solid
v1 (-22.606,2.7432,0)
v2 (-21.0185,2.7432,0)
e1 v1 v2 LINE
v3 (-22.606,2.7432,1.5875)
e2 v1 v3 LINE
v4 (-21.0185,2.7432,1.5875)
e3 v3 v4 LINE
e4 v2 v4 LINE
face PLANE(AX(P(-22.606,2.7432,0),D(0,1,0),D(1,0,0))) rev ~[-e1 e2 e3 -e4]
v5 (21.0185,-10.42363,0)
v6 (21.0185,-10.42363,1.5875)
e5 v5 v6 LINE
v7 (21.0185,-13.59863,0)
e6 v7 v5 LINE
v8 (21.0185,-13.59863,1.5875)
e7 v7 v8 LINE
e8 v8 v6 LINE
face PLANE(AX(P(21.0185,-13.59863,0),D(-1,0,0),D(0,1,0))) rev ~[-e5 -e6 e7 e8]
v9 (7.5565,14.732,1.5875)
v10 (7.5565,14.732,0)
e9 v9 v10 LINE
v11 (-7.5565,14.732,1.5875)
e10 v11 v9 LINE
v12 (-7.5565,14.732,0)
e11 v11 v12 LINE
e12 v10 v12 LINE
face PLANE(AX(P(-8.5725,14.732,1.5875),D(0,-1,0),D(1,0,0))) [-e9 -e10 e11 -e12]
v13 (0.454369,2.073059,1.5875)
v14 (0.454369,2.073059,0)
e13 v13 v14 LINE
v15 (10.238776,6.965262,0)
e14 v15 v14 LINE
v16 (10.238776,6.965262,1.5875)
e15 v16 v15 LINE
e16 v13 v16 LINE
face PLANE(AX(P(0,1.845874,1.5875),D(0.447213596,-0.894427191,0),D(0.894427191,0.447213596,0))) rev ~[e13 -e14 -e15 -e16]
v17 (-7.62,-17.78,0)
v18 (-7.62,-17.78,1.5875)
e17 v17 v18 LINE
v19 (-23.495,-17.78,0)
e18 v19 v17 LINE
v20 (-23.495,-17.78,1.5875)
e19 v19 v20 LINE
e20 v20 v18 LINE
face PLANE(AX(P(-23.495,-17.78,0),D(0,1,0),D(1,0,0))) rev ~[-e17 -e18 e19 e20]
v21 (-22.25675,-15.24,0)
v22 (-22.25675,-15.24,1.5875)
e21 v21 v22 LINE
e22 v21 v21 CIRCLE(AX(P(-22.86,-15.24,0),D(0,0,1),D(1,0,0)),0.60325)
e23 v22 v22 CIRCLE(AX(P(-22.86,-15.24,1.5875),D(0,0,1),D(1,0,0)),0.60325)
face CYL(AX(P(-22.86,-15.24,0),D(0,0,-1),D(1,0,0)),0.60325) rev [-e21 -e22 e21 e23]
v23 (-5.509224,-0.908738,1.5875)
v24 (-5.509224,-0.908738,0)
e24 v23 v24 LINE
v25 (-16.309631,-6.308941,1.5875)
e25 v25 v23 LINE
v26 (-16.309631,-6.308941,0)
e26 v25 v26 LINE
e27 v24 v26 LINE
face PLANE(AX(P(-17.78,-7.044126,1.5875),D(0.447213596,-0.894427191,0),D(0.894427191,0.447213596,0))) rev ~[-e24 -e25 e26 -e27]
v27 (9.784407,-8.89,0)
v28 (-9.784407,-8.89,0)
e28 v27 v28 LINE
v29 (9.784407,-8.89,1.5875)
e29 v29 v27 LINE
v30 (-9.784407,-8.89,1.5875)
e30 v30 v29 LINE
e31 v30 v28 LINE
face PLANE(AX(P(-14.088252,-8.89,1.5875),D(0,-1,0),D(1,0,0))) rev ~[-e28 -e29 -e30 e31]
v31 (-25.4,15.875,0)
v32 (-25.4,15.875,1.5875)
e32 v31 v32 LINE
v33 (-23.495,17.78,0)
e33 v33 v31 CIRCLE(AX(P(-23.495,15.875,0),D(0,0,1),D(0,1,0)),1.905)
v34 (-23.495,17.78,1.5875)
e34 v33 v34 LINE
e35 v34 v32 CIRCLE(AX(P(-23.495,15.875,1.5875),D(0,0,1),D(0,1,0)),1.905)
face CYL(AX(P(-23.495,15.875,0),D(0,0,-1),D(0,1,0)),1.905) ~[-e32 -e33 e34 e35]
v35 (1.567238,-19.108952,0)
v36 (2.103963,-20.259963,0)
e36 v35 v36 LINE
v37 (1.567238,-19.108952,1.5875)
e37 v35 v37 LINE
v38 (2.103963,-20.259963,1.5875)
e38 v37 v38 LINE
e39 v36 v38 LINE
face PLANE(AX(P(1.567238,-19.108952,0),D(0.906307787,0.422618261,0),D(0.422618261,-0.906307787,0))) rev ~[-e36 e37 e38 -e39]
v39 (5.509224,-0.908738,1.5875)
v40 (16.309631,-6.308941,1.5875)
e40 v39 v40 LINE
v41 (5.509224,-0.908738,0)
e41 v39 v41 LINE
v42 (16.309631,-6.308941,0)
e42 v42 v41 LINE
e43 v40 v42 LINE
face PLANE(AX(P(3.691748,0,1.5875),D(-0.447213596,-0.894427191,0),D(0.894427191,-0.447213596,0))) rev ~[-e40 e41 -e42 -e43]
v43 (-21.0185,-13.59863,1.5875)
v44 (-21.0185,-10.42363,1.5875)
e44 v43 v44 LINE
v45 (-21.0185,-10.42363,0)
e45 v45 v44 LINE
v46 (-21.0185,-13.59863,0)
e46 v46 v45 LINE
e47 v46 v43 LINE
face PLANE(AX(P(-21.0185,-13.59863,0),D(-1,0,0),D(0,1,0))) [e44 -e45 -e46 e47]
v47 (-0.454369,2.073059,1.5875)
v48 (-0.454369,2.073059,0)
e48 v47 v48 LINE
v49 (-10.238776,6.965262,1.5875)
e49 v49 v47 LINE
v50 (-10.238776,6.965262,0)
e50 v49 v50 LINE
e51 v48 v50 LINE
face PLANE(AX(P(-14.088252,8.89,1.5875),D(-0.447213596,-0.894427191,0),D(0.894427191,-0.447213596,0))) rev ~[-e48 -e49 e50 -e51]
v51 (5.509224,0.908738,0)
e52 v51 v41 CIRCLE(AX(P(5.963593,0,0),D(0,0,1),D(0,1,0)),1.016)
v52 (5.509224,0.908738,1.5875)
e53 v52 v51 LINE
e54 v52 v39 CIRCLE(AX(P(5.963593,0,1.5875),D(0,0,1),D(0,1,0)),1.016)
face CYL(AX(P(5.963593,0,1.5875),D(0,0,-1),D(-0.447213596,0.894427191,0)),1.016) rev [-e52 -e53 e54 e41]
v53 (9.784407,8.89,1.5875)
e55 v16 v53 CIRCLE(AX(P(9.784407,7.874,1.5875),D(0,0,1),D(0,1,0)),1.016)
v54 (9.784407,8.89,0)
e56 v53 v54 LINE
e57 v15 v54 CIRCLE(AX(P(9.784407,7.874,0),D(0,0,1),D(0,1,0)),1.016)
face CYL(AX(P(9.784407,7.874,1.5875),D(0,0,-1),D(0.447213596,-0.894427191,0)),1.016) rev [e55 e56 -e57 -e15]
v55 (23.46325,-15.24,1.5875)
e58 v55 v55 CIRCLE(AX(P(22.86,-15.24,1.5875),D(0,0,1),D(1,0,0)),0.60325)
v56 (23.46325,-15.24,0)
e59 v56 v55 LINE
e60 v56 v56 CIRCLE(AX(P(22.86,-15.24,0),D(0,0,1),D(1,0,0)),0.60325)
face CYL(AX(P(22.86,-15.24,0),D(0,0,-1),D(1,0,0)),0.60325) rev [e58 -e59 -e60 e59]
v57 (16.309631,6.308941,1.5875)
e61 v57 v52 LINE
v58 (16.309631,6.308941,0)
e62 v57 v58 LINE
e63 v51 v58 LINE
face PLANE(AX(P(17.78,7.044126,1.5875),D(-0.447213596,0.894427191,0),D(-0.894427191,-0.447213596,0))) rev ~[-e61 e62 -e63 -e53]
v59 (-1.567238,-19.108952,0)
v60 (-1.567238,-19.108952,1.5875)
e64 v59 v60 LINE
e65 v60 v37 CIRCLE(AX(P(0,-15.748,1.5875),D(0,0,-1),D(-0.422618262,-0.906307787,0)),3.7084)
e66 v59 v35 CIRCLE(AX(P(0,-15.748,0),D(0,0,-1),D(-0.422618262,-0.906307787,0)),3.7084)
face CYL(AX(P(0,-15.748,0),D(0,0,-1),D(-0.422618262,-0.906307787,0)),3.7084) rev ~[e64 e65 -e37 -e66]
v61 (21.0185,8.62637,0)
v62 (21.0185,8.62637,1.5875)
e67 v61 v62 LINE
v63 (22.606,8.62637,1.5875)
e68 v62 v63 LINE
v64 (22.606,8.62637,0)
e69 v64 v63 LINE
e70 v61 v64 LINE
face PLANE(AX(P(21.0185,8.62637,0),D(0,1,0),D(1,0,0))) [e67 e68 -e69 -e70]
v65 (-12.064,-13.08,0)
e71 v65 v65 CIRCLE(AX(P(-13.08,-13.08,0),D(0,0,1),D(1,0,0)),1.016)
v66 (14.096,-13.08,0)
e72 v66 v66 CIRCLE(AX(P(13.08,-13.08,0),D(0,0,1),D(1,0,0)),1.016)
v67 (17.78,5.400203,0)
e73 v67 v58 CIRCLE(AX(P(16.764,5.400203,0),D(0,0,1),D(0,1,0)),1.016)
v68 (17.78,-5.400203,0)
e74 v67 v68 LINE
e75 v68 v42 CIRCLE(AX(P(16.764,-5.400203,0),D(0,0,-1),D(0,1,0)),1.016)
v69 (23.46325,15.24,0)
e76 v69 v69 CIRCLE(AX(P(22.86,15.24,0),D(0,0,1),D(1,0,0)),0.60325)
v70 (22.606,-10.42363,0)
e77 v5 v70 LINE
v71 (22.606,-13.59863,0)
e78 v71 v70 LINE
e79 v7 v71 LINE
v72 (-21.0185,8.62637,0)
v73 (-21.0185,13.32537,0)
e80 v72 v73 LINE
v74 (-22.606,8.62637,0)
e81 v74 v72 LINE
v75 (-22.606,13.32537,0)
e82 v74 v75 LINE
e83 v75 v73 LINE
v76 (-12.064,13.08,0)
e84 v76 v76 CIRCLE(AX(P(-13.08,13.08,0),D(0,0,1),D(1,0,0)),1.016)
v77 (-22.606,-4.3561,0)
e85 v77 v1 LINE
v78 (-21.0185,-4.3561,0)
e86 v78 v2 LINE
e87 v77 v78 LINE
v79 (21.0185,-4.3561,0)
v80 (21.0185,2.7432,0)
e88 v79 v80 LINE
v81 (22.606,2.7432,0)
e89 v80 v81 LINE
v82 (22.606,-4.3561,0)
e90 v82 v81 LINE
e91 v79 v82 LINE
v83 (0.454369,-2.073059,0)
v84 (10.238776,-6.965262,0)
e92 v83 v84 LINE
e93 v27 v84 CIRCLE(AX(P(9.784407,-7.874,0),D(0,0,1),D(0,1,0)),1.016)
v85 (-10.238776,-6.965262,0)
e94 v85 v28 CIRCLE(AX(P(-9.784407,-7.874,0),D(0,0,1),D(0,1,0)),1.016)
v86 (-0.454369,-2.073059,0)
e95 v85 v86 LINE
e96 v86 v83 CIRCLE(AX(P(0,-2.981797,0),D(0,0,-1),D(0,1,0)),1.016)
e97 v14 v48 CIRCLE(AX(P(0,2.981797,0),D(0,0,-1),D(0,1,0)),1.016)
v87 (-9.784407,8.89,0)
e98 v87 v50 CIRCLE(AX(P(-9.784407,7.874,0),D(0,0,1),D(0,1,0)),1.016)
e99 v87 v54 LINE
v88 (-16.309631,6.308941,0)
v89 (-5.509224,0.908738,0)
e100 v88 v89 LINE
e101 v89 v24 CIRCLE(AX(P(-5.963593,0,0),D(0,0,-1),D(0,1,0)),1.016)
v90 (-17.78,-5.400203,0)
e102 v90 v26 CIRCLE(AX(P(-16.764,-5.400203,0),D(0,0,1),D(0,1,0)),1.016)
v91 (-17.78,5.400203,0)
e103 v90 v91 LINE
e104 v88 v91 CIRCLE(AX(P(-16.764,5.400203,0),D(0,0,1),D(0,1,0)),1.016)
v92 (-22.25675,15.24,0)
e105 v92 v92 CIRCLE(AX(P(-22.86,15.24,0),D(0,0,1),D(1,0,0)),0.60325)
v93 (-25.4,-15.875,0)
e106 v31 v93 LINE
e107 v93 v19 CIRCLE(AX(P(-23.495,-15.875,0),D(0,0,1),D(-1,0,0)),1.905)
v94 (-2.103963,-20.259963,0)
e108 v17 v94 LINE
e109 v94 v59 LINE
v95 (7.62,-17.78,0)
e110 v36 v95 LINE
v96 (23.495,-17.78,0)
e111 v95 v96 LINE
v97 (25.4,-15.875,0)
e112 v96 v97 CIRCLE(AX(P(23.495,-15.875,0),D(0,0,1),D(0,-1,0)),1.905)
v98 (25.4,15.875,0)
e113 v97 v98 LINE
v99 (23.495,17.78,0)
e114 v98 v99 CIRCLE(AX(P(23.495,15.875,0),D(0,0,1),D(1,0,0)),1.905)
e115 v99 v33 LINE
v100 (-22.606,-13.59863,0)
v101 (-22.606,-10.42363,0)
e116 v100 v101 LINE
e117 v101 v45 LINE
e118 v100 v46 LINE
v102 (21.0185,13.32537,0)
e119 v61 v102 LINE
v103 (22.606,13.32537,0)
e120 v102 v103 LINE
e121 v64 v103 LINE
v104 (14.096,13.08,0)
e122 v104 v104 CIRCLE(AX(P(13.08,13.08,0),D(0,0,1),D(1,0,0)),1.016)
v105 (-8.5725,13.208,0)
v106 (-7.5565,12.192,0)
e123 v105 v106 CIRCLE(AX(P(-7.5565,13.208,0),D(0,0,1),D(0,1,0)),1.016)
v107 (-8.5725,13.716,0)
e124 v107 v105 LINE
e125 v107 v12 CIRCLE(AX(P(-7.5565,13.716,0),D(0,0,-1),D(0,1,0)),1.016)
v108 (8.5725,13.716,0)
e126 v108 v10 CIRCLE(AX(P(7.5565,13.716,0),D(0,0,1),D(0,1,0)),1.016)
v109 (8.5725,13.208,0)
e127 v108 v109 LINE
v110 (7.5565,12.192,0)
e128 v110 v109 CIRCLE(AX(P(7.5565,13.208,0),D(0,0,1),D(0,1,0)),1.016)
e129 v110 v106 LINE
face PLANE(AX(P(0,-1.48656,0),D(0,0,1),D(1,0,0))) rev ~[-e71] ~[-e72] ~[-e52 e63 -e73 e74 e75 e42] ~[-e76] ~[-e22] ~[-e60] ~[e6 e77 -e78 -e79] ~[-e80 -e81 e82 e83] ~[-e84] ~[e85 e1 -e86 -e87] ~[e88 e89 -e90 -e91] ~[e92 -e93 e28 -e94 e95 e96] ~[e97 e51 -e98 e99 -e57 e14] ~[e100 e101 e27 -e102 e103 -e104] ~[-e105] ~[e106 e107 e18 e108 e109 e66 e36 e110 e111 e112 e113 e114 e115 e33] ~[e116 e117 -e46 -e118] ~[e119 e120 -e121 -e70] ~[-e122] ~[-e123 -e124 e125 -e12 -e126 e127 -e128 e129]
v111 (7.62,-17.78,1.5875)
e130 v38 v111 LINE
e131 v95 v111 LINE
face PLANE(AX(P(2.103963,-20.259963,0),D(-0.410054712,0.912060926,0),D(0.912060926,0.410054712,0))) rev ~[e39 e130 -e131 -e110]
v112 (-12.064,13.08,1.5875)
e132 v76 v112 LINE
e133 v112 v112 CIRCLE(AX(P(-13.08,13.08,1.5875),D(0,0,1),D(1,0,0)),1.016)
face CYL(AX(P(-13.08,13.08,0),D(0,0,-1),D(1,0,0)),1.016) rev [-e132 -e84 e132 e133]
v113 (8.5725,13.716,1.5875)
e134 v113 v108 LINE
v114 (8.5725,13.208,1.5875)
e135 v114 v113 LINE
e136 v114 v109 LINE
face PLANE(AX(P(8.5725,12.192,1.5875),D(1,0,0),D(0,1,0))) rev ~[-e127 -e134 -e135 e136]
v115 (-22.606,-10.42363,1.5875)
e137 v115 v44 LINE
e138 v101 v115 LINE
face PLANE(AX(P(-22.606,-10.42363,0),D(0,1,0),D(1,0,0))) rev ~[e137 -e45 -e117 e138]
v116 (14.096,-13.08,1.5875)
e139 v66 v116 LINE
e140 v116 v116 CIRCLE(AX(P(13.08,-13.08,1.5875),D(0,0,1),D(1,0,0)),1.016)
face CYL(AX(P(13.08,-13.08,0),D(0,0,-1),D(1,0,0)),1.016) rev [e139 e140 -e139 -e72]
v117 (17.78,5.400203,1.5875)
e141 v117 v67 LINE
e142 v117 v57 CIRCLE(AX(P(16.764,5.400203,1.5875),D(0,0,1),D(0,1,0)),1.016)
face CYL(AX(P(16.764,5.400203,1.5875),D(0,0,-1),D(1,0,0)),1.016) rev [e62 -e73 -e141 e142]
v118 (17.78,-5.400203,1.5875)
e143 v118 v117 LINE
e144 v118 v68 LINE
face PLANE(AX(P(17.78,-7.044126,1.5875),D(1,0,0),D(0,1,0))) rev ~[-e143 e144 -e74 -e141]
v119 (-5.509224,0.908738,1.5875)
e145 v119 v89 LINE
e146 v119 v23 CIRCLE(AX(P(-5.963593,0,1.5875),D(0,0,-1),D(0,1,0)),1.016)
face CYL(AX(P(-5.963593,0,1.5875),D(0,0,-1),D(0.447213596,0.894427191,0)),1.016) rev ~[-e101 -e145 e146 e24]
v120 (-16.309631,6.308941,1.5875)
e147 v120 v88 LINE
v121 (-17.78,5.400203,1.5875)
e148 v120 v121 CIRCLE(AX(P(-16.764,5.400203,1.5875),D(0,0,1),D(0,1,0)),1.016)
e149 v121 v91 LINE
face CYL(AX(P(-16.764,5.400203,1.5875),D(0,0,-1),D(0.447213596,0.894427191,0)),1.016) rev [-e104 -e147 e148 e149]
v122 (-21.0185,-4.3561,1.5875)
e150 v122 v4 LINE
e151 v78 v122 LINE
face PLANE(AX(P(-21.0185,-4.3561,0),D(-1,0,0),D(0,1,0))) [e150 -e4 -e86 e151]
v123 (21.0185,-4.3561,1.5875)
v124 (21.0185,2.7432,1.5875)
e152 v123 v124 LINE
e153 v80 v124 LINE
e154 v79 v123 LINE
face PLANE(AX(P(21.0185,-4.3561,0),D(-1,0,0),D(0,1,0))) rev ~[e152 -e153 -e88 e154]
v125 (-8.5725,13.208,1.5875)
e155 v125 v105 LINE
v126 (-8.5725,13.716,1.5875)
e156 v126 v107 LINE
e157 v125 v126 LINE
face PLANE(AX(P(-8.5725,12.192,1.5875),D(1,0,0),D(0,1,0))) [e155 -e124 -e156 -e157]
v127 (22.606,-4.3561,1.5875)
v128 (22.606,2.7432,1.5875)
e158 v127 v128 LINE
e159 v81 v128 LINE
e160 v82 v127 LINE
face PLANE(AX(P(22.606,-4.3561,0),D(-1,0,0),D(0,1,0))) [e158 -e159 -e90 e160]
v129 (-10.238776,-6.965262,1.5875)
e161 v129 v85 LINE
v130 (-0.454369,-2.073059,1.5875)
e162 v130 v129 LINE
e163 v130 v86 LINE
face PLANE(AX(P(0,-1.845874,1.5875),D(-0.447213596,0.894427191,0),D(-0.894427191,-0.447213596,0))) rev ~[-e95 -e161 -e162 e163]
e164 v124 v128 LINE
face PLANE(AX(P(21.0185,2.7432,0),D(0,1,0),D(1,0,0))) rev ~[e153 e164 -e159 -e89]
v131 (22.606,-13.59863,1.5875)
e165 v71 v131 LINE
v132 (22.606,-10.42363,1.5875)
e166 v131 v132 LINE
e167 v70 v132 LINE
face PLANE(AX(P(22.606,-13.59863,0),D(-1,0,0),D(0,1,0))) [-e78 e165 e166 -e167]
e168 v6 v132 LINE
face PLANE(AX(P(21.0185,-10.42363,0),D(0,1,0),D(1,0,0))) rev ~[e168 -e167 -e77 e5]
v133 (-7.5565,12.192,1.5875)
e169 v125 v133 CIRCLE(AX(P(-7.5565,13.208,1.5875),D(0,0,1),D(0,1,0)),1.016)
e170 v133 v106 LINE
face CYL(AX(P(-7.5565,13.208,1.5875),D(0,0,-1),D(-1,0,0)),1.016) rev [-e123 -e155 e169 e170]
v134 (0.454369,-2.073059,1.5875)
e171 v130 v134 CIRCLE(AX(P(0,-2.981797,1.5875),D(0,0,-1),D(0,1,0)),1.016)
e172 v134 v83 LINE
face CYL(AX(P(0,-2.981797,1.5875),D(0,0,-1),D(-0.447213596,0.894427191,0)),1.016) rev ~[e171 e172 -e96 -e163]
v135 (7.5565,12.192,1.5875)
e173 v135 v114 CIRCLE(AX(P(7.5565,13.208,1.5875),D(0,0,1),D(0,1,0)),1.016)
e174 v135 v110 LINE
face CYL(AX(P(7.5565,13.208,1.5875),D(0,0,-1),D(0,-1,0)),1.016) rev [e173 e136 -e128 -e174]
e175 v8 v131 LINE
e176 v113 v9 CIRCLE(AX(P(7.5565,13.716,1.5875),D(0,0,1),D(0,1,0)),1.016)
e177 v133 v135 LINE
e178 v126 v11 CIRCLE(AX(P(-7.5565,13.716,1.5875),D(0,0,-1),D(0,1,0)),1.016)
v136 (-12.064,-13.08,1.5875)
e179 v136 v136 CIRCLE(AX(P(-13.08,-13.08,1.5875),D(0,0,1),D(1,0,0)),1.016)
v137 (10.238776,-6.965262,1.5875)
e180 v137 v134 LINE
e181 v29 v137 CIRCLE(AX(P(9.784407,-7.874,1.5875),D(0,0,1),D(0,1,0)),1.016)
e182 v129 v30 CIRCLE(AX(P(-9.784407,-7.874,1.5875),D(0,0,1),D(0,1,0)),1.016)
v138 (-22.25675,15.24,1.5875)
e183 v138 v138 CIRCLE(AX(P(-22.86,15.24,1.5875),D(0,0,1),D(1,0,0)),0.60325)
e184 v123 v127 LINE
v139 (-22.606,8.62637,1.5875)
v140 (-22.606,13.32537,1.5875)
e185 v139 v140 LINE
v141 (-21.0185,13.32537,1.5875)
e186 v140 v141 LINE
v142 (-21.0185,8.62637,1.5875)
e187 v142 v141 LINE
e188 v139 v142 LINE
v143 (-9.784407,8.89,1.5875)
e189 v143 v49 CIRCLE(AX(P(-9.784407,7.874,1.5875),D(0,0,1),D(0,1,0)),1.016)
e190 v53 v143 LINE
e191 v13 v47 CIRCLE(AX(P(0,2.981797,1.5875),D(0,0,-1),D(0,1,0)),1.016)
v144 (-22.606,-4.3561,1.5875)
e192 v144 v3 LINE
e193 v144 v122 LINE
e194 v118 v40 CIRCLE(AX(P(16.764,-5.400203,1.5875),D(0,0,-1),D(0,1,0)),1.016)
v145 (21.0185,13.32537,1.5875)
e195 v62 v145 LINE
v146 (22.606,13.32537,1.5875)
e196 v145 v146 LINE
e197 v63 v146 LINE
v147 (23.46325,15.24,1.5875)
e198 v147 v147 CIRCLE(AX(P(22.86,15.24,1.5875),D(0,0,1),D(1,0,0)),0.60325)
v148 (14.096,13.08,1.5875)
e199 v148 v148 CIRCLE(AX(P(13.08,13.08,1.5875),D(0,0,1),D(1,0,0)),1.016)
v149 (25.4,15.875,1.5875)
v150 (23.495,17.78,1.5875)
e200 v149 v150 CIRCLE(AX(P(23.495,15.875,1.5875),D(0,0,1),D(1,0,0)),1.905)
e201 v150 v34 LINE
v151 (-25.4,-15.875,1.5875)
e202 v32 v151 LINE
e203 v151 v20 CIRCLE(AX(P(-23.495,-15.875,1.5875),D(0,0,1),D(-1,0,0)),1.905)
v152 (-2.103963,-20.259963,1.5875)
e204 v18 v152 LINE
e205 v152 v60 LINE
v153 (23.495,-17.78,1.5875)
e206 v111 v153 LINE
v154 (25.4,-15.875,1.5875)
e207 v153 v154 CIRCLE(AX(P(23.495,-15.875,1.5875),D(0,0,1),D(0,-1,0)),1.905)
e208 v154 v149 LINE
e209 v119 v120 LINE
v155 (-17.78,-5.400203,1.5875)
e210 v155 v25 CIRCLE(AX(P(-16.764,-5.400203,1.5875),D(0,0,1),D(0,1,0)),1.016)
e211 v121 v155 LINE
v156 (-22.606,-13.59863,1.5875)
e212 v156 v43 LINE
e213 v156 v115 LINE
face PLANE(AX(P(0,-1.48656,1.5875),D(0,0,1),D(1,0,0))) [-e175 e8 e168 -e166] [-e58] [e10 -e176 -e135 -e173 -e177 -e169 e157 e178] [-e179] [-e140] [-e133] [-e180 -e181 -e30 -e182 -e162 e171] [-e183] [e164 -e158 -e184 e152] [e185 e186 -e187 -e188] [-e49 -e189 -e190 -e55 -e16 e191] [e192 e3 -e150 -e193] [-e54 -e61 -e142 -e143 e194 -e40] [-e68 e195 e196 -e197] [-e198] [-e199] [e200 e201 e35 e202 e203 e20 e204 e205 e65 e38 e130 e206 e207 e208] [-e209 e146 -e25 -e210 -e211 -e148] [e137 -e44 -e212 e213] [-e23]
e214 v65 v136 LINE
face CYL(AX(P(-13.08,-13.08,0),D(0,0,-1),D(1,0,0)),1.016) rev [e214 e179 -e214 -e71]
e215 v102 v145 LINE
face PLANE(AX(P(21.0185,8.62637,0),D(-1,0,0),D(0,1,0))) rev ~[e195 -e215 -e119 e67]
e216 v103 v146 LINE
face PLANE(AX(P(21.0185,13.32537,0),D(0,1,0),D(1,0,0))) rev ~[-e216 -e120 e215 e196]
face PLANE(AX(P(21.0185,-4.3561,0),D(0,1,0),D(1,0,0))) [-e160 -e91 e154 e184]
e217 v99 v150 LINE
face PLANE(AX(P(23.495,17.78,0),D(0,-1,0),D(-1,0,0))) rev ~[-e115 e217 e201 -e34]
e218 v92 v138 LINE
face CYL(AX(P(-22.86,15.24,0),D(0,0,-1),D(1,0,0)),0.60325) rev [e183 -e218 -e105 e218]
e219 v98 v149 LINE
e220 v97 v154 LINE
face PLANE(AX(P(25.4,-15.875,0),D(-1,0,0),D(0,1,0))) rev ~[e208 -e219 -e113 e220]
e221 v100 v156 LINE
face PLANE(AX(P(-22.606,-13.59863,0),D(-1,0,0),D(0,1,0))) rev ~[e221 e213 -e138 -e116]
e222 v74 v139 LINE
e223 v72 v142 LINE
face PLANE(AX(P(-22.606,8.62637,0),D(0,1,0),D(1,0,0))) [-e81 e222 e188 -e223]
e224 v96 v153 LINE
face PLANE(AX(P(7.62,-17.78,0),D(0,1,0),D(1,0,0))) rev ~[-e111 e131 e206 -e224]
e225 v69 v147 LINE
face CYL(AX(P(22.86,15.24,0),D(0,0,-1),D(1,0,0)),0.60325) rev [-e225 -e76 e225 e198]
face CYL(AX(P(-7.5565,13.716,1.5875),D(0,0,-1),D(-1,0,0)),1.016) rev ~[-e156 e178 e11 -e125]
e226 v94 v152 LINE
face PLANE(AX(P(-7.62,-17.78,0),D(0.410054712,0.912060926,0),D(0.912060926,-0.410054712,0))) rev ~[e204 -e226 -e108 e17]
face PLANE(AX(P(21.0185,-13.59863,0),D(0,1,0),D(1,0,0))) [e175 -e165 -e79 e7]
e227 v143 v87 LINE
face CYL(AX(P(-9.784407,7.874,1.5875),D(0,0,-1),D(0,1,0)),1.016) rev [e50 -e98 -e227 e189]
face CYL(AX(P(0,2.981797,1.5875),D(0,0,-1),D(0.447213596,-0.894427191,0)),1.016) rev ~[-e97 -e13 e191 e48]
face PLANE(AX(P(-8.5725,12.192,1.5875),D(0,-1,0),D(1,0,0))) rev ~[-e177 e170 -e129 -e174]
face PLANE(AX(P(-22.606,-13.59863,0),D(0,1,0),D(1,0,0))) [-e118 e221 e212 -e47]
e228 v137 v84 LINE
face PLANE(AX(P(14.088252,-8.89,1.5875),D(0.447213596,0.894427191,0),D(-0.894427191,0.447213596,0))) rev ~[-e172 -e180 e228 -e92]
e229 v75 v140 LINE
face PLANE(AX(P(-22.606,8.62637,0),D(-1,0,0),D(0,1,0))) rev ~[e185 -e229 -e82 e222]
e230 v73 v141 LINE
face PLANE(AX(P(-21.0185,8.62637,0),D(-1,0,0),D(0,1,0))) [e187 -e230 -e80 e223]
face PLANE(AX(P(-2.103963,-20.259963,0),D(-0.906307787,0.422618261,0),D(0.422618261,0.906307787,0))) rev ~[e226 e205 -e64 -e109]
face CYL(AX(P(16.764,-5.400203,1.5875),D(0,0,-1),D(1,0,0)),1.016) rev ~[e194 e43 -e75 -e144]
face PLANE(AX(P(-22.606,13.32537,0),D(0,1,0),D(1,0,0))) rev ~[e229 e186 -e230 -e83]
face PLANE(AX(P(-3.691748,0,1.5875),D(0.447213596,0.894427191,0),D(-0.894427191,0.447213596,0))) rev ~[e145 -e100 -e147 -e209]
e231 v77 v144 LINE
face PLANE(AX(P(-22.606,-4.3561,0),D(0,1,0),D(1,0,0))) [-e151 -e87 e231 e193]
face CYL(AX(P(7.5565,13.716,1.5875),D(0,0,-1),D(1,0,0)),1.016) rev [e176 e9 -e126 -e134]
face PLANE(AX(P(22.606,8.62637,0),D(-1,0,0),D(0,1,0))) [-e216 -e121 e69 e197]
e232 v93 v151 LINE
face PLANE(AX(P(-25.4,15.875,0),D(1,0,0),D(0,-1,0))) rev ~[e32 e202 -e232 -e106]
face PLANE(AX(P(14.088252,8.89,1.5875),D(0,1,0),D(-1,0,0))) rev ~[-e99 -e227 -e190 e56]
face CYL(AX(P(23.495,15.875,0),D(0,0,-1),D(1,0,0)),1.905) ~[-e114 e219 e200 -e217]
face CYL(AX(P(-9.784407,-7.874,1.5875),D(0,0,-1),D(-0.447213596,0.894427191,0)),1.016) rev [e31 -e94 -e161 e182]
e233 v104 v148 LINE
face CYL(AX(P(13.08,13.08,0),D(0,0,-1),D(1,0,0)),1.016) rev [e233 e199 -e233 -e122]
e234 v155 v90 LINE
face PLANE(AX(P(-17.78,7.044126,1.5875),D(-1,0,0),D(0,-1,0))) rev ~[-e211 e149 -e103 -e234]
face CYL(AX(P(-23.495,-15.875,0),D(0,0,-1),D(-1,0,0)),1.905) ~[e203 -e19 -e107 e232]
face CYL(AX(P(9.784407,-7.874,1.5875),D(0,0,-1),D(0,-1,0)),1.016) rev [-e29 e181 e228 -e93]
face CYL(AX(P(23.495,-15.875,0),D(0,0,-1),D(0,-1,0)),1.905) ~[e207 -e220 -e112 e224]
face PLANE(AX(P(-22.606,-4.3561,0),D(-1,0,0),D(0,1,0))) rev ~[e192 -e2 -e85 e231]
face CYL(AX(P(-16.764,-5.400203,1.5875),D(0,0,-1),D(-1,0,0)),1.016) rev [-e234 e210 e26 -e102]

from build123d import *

# Parameters (mm, degrees)
SKETCH1_R           = 0.60325
SKETCH1_W           = 1.5875
SKETCH1_H           = 3.175
SKETCH1_R_2         = 1.016
SKETCH1_H_2         = 7.0993
SKETCH1_H_3         = 4.699
BOSS_EXTRUDE1_DEPTH = 1.5875
SPEED_HOLES_REACH   = 34.529
SKETCH2_W           = 17.145
SKETCH2_H           = 2.54
FILLET1_R           = 1.016


with BuildPart() as part:
    # Sketch1 → Boss-Extrude1 (new body)
    with BuildSketch(Plane.XY):
        with BuildLine():
            ThreePointArc((25.4, 15.875), (24.842038418, 17.222038418), (23.495, 17.78))
            Line((23.495, 17.78), (-23.495, 17.78))
            ThreePointArc((-23.495, 17.78), (-24.842038418, 17.222038418), (-25.4, 15.875))
            Line((-25.4, 15.875), (-25.4, -15.875))
            ThreePointArc((-25.4, -15.875), (-24.842038418, -17.222038418), (-23.495, -17.78))
            Line((-23.495, -17.78), (-7.62, -17.78))
            Line((-7.62, -17.78), (-2.103962754, -20.259962687))
            Line((-2.103962754, -20.259962687), (-1.567237562, -19.108951797))
            ThreePointArc((-1.567237562, -19.108951797), (0, -12.0396), (1.567237562, -19.108951797))
            Line((1.567237562, -19.108951797), (2.103962754, -20.259962687))
            Line((2.103962754, -20.259962687), (7.62, -17.78))
            Line((7.62, -17.78), (23.495, -17.78))
            ThreePointArc((23.495, -17.78), (24.842038418, -17.222038418), (25.4, -15.875))
            Line((25.4, -15.875), (25.4, 15.875))
        make_face()
        with Locations((-22.86, -15.24)):
            Circle(SKETCH1_R, mode=Mode.SUBTRACT)
        with Locations((-21.81225, -12.011129894)):
            Rectangle(SKETCH1_W, SKETCH1_H, mode=Mode.SUBTRACT)
        with Locations((-13.08, -13.08)):
            Circle(SKETCH1_R_2, mode=Mode.SUBTRACT)
        with Locations((13.08, -13.08)):
            Circle(SKETCH1_R_2, mode=Mode.SUBTRACT)
        with Locations((22.86, -15.24)):
            Circle(SKETCH1_R, mode=Mode.SUBTRACT)
        with Locations((21.81225, -12.011129894)):
            Rectangle(SKETCH1_W, SKETCH1_H, mode=Mode.SUBTRACT)
        with Locations((-21.81225, -0.80645)):
            Rectangle(SKETCH1_W, SKETCH1_H_2, mode=Mode.SUBTRACT)
        with Locations((-21.81225, 10.975870106)):
            Rectangle(SKETCH1_W, SKETCH1_H_3, mode=Mode.SUBTRACT)
        with Locations((-22.86, 15.24)):
            Circle(SKETCH1_R, mode=Mode.SUBTRACT)
        with Locations((-13.08, 13.08)):
            Circle(SKETCH1_R_2, mode=Mode.SUBTRACT)
        with Locations((21.81225, -0.80645)):
            Rectangle(SKETCH1_W, SKETCH1_H_2, mode=Mode.SUBTRACT)
        with Locations((21.81225, 10.975870106)):
            Rectangle(SKETCH1_W, SKETCH1_H_3, mode=Mode.SUBTRACT)
        with Locations((13.08, 13.08)):
            Circle(SKETCH1_R_2, mode=Mode.SUBTRACT)
        with Locations((22.86, 15.24)):
            Circle(SKETCH1_R, mode=Mode.SUBTRACT)
    extrude(amount=BOSS_EXTRUDE1_DEPTH)

    # Sketch2 → Speed Holes (cut, up to next)
    with BuildSketch(Plane.XY.offset(1.5875), mode=Mode.PRIVATE) as speed_holes_sk1:
        Polygon((3.691748231, 0), (17.78, -7.044125885), (17.78, 7.044125885), align=None)
    speed_holes_tool1 = extrude(speed_holes_sk1.sketch, amount=-SPEED_HOLES_REACH, mode=Mode.PRIVATE) & part.part
    # Sketch2 → Speed Holes (cut, up to next)
    with BuildSketch(Plane.XY.offset(1.5875), mode=Mode.PRIVATE) as speed_holes_sk2:
        Polygon((-14.088251769, 8.89), (0, 1.845874115), (14.088251769, 8.89), align=None)
    speed_holes_tool2 = extrude(speed_holes_sk2.sketch, amount=-SPEED_HOLES_REACH, mode=Mode.PRIVATE) & part.part
    # Sketch2 → Speed Holes (cut, up to next)
    with BuildSketch(Plane.XY.offset(1.5875), mode=Mode.PRIVATE) as speed_holes_sk3:
        Polygon((14.088251769, -8.89), (0, -1.845874115), (-14.088251769, -8.89), align=None)
    speed_holes_tool3 = extrude(speed_holes_sk3.sketch, amount=-SPEED_HOLES_REACH, mode=Mode.PRIVATE) & part.part
    # Sketch2 → Speed Holes (cut, up to next)
    with BuildSketch(Plane.XY.offset(1.5875), mode=Mode.PRIVATE) as speed_holes_sk4:
        Polygon((-17.78, -7.044125885), (-3.691748231, 0), (-17.78, 7.044125885), align=None)
    speed_holes_tool4 = extrude(speed_holes_sk4.sketch, amount=-SPEED_HOLES_REACH, mode=Mode.PRIVATE) & part.part
    # Sketch2 → Speed Holes (cut, up to next)
    with BuildSketch(Plane.XY.offset(1.5875), mode=Mode.PRIVATE) as speed_holes_sk5:
        with Locations((0, 13.462)):
            Rectangle(SKETCH2_W, SKETCH2_H)
    speed_holes_tool5 = extrude(speed_holes_sk5.sketch, amount=-SPEED_HOLES_REACH, mode=Mode.PRIVATE) & part.part
    add(speed_holes_tool1.solids().sort_by_distance((13.083916, 0, 1.5875))[0], mode=Mode.SUBTRACT)
    add(speed_holes_tool2.solids().sort_by_distance((0, 6.541958, 1.5875))[0], mode=Mode.SUBTRACT)
    add(speed_holes_tool3.solids().sort_by_distance((0, -6.541958, 1.5875))[0], mode=Mode.SUBTRACT)
    add(speed_holes_tool4.solids().sort_by_distance((-13.083916, 0, 1.5875))[0], mode=Mode.SUBTRACT)
    add(speed_holes_tool5.solids().sort_by_distance((0, 13.462, 1.5875))[0], mode=Mode.SUBTRACT)

    # Fillet1
    fillet1_edges = [part.edges().sort_by_distance(p)[0] for p in [
        (-14.088251769, -8.89, 0.79375),
        (-17.78, -7.044125885, 0.79375),
        (0, 1.845874115, 0.79375),
        (14.088251769, -8.89, 0.79375),
        (17.78, -7.044125885, 0.79375),
        (17.78, 7.044125885, 0.79375),
        (-3.691748231, 0, 0.79375),
        (14.088251769, 8.89, 0.79375),
        (3.691748231, 0, 0.79375),
        (-14.088251769, 8.89, 0.79375),
        (0, -1.845874115, 0.79375),
        (-17.78, 7.044125885, 0.79375),
        (-8.5725, 14.732, 0.79375),
        (-8.5725, 12.192, 0.79375),
        (8.5725, 14.732, 0.79375),
        (8.5725, 12.192, 0.79375),
    ]]
    fillet(fillet1_edges, radius=FILLET1_R)


solid = part.part
